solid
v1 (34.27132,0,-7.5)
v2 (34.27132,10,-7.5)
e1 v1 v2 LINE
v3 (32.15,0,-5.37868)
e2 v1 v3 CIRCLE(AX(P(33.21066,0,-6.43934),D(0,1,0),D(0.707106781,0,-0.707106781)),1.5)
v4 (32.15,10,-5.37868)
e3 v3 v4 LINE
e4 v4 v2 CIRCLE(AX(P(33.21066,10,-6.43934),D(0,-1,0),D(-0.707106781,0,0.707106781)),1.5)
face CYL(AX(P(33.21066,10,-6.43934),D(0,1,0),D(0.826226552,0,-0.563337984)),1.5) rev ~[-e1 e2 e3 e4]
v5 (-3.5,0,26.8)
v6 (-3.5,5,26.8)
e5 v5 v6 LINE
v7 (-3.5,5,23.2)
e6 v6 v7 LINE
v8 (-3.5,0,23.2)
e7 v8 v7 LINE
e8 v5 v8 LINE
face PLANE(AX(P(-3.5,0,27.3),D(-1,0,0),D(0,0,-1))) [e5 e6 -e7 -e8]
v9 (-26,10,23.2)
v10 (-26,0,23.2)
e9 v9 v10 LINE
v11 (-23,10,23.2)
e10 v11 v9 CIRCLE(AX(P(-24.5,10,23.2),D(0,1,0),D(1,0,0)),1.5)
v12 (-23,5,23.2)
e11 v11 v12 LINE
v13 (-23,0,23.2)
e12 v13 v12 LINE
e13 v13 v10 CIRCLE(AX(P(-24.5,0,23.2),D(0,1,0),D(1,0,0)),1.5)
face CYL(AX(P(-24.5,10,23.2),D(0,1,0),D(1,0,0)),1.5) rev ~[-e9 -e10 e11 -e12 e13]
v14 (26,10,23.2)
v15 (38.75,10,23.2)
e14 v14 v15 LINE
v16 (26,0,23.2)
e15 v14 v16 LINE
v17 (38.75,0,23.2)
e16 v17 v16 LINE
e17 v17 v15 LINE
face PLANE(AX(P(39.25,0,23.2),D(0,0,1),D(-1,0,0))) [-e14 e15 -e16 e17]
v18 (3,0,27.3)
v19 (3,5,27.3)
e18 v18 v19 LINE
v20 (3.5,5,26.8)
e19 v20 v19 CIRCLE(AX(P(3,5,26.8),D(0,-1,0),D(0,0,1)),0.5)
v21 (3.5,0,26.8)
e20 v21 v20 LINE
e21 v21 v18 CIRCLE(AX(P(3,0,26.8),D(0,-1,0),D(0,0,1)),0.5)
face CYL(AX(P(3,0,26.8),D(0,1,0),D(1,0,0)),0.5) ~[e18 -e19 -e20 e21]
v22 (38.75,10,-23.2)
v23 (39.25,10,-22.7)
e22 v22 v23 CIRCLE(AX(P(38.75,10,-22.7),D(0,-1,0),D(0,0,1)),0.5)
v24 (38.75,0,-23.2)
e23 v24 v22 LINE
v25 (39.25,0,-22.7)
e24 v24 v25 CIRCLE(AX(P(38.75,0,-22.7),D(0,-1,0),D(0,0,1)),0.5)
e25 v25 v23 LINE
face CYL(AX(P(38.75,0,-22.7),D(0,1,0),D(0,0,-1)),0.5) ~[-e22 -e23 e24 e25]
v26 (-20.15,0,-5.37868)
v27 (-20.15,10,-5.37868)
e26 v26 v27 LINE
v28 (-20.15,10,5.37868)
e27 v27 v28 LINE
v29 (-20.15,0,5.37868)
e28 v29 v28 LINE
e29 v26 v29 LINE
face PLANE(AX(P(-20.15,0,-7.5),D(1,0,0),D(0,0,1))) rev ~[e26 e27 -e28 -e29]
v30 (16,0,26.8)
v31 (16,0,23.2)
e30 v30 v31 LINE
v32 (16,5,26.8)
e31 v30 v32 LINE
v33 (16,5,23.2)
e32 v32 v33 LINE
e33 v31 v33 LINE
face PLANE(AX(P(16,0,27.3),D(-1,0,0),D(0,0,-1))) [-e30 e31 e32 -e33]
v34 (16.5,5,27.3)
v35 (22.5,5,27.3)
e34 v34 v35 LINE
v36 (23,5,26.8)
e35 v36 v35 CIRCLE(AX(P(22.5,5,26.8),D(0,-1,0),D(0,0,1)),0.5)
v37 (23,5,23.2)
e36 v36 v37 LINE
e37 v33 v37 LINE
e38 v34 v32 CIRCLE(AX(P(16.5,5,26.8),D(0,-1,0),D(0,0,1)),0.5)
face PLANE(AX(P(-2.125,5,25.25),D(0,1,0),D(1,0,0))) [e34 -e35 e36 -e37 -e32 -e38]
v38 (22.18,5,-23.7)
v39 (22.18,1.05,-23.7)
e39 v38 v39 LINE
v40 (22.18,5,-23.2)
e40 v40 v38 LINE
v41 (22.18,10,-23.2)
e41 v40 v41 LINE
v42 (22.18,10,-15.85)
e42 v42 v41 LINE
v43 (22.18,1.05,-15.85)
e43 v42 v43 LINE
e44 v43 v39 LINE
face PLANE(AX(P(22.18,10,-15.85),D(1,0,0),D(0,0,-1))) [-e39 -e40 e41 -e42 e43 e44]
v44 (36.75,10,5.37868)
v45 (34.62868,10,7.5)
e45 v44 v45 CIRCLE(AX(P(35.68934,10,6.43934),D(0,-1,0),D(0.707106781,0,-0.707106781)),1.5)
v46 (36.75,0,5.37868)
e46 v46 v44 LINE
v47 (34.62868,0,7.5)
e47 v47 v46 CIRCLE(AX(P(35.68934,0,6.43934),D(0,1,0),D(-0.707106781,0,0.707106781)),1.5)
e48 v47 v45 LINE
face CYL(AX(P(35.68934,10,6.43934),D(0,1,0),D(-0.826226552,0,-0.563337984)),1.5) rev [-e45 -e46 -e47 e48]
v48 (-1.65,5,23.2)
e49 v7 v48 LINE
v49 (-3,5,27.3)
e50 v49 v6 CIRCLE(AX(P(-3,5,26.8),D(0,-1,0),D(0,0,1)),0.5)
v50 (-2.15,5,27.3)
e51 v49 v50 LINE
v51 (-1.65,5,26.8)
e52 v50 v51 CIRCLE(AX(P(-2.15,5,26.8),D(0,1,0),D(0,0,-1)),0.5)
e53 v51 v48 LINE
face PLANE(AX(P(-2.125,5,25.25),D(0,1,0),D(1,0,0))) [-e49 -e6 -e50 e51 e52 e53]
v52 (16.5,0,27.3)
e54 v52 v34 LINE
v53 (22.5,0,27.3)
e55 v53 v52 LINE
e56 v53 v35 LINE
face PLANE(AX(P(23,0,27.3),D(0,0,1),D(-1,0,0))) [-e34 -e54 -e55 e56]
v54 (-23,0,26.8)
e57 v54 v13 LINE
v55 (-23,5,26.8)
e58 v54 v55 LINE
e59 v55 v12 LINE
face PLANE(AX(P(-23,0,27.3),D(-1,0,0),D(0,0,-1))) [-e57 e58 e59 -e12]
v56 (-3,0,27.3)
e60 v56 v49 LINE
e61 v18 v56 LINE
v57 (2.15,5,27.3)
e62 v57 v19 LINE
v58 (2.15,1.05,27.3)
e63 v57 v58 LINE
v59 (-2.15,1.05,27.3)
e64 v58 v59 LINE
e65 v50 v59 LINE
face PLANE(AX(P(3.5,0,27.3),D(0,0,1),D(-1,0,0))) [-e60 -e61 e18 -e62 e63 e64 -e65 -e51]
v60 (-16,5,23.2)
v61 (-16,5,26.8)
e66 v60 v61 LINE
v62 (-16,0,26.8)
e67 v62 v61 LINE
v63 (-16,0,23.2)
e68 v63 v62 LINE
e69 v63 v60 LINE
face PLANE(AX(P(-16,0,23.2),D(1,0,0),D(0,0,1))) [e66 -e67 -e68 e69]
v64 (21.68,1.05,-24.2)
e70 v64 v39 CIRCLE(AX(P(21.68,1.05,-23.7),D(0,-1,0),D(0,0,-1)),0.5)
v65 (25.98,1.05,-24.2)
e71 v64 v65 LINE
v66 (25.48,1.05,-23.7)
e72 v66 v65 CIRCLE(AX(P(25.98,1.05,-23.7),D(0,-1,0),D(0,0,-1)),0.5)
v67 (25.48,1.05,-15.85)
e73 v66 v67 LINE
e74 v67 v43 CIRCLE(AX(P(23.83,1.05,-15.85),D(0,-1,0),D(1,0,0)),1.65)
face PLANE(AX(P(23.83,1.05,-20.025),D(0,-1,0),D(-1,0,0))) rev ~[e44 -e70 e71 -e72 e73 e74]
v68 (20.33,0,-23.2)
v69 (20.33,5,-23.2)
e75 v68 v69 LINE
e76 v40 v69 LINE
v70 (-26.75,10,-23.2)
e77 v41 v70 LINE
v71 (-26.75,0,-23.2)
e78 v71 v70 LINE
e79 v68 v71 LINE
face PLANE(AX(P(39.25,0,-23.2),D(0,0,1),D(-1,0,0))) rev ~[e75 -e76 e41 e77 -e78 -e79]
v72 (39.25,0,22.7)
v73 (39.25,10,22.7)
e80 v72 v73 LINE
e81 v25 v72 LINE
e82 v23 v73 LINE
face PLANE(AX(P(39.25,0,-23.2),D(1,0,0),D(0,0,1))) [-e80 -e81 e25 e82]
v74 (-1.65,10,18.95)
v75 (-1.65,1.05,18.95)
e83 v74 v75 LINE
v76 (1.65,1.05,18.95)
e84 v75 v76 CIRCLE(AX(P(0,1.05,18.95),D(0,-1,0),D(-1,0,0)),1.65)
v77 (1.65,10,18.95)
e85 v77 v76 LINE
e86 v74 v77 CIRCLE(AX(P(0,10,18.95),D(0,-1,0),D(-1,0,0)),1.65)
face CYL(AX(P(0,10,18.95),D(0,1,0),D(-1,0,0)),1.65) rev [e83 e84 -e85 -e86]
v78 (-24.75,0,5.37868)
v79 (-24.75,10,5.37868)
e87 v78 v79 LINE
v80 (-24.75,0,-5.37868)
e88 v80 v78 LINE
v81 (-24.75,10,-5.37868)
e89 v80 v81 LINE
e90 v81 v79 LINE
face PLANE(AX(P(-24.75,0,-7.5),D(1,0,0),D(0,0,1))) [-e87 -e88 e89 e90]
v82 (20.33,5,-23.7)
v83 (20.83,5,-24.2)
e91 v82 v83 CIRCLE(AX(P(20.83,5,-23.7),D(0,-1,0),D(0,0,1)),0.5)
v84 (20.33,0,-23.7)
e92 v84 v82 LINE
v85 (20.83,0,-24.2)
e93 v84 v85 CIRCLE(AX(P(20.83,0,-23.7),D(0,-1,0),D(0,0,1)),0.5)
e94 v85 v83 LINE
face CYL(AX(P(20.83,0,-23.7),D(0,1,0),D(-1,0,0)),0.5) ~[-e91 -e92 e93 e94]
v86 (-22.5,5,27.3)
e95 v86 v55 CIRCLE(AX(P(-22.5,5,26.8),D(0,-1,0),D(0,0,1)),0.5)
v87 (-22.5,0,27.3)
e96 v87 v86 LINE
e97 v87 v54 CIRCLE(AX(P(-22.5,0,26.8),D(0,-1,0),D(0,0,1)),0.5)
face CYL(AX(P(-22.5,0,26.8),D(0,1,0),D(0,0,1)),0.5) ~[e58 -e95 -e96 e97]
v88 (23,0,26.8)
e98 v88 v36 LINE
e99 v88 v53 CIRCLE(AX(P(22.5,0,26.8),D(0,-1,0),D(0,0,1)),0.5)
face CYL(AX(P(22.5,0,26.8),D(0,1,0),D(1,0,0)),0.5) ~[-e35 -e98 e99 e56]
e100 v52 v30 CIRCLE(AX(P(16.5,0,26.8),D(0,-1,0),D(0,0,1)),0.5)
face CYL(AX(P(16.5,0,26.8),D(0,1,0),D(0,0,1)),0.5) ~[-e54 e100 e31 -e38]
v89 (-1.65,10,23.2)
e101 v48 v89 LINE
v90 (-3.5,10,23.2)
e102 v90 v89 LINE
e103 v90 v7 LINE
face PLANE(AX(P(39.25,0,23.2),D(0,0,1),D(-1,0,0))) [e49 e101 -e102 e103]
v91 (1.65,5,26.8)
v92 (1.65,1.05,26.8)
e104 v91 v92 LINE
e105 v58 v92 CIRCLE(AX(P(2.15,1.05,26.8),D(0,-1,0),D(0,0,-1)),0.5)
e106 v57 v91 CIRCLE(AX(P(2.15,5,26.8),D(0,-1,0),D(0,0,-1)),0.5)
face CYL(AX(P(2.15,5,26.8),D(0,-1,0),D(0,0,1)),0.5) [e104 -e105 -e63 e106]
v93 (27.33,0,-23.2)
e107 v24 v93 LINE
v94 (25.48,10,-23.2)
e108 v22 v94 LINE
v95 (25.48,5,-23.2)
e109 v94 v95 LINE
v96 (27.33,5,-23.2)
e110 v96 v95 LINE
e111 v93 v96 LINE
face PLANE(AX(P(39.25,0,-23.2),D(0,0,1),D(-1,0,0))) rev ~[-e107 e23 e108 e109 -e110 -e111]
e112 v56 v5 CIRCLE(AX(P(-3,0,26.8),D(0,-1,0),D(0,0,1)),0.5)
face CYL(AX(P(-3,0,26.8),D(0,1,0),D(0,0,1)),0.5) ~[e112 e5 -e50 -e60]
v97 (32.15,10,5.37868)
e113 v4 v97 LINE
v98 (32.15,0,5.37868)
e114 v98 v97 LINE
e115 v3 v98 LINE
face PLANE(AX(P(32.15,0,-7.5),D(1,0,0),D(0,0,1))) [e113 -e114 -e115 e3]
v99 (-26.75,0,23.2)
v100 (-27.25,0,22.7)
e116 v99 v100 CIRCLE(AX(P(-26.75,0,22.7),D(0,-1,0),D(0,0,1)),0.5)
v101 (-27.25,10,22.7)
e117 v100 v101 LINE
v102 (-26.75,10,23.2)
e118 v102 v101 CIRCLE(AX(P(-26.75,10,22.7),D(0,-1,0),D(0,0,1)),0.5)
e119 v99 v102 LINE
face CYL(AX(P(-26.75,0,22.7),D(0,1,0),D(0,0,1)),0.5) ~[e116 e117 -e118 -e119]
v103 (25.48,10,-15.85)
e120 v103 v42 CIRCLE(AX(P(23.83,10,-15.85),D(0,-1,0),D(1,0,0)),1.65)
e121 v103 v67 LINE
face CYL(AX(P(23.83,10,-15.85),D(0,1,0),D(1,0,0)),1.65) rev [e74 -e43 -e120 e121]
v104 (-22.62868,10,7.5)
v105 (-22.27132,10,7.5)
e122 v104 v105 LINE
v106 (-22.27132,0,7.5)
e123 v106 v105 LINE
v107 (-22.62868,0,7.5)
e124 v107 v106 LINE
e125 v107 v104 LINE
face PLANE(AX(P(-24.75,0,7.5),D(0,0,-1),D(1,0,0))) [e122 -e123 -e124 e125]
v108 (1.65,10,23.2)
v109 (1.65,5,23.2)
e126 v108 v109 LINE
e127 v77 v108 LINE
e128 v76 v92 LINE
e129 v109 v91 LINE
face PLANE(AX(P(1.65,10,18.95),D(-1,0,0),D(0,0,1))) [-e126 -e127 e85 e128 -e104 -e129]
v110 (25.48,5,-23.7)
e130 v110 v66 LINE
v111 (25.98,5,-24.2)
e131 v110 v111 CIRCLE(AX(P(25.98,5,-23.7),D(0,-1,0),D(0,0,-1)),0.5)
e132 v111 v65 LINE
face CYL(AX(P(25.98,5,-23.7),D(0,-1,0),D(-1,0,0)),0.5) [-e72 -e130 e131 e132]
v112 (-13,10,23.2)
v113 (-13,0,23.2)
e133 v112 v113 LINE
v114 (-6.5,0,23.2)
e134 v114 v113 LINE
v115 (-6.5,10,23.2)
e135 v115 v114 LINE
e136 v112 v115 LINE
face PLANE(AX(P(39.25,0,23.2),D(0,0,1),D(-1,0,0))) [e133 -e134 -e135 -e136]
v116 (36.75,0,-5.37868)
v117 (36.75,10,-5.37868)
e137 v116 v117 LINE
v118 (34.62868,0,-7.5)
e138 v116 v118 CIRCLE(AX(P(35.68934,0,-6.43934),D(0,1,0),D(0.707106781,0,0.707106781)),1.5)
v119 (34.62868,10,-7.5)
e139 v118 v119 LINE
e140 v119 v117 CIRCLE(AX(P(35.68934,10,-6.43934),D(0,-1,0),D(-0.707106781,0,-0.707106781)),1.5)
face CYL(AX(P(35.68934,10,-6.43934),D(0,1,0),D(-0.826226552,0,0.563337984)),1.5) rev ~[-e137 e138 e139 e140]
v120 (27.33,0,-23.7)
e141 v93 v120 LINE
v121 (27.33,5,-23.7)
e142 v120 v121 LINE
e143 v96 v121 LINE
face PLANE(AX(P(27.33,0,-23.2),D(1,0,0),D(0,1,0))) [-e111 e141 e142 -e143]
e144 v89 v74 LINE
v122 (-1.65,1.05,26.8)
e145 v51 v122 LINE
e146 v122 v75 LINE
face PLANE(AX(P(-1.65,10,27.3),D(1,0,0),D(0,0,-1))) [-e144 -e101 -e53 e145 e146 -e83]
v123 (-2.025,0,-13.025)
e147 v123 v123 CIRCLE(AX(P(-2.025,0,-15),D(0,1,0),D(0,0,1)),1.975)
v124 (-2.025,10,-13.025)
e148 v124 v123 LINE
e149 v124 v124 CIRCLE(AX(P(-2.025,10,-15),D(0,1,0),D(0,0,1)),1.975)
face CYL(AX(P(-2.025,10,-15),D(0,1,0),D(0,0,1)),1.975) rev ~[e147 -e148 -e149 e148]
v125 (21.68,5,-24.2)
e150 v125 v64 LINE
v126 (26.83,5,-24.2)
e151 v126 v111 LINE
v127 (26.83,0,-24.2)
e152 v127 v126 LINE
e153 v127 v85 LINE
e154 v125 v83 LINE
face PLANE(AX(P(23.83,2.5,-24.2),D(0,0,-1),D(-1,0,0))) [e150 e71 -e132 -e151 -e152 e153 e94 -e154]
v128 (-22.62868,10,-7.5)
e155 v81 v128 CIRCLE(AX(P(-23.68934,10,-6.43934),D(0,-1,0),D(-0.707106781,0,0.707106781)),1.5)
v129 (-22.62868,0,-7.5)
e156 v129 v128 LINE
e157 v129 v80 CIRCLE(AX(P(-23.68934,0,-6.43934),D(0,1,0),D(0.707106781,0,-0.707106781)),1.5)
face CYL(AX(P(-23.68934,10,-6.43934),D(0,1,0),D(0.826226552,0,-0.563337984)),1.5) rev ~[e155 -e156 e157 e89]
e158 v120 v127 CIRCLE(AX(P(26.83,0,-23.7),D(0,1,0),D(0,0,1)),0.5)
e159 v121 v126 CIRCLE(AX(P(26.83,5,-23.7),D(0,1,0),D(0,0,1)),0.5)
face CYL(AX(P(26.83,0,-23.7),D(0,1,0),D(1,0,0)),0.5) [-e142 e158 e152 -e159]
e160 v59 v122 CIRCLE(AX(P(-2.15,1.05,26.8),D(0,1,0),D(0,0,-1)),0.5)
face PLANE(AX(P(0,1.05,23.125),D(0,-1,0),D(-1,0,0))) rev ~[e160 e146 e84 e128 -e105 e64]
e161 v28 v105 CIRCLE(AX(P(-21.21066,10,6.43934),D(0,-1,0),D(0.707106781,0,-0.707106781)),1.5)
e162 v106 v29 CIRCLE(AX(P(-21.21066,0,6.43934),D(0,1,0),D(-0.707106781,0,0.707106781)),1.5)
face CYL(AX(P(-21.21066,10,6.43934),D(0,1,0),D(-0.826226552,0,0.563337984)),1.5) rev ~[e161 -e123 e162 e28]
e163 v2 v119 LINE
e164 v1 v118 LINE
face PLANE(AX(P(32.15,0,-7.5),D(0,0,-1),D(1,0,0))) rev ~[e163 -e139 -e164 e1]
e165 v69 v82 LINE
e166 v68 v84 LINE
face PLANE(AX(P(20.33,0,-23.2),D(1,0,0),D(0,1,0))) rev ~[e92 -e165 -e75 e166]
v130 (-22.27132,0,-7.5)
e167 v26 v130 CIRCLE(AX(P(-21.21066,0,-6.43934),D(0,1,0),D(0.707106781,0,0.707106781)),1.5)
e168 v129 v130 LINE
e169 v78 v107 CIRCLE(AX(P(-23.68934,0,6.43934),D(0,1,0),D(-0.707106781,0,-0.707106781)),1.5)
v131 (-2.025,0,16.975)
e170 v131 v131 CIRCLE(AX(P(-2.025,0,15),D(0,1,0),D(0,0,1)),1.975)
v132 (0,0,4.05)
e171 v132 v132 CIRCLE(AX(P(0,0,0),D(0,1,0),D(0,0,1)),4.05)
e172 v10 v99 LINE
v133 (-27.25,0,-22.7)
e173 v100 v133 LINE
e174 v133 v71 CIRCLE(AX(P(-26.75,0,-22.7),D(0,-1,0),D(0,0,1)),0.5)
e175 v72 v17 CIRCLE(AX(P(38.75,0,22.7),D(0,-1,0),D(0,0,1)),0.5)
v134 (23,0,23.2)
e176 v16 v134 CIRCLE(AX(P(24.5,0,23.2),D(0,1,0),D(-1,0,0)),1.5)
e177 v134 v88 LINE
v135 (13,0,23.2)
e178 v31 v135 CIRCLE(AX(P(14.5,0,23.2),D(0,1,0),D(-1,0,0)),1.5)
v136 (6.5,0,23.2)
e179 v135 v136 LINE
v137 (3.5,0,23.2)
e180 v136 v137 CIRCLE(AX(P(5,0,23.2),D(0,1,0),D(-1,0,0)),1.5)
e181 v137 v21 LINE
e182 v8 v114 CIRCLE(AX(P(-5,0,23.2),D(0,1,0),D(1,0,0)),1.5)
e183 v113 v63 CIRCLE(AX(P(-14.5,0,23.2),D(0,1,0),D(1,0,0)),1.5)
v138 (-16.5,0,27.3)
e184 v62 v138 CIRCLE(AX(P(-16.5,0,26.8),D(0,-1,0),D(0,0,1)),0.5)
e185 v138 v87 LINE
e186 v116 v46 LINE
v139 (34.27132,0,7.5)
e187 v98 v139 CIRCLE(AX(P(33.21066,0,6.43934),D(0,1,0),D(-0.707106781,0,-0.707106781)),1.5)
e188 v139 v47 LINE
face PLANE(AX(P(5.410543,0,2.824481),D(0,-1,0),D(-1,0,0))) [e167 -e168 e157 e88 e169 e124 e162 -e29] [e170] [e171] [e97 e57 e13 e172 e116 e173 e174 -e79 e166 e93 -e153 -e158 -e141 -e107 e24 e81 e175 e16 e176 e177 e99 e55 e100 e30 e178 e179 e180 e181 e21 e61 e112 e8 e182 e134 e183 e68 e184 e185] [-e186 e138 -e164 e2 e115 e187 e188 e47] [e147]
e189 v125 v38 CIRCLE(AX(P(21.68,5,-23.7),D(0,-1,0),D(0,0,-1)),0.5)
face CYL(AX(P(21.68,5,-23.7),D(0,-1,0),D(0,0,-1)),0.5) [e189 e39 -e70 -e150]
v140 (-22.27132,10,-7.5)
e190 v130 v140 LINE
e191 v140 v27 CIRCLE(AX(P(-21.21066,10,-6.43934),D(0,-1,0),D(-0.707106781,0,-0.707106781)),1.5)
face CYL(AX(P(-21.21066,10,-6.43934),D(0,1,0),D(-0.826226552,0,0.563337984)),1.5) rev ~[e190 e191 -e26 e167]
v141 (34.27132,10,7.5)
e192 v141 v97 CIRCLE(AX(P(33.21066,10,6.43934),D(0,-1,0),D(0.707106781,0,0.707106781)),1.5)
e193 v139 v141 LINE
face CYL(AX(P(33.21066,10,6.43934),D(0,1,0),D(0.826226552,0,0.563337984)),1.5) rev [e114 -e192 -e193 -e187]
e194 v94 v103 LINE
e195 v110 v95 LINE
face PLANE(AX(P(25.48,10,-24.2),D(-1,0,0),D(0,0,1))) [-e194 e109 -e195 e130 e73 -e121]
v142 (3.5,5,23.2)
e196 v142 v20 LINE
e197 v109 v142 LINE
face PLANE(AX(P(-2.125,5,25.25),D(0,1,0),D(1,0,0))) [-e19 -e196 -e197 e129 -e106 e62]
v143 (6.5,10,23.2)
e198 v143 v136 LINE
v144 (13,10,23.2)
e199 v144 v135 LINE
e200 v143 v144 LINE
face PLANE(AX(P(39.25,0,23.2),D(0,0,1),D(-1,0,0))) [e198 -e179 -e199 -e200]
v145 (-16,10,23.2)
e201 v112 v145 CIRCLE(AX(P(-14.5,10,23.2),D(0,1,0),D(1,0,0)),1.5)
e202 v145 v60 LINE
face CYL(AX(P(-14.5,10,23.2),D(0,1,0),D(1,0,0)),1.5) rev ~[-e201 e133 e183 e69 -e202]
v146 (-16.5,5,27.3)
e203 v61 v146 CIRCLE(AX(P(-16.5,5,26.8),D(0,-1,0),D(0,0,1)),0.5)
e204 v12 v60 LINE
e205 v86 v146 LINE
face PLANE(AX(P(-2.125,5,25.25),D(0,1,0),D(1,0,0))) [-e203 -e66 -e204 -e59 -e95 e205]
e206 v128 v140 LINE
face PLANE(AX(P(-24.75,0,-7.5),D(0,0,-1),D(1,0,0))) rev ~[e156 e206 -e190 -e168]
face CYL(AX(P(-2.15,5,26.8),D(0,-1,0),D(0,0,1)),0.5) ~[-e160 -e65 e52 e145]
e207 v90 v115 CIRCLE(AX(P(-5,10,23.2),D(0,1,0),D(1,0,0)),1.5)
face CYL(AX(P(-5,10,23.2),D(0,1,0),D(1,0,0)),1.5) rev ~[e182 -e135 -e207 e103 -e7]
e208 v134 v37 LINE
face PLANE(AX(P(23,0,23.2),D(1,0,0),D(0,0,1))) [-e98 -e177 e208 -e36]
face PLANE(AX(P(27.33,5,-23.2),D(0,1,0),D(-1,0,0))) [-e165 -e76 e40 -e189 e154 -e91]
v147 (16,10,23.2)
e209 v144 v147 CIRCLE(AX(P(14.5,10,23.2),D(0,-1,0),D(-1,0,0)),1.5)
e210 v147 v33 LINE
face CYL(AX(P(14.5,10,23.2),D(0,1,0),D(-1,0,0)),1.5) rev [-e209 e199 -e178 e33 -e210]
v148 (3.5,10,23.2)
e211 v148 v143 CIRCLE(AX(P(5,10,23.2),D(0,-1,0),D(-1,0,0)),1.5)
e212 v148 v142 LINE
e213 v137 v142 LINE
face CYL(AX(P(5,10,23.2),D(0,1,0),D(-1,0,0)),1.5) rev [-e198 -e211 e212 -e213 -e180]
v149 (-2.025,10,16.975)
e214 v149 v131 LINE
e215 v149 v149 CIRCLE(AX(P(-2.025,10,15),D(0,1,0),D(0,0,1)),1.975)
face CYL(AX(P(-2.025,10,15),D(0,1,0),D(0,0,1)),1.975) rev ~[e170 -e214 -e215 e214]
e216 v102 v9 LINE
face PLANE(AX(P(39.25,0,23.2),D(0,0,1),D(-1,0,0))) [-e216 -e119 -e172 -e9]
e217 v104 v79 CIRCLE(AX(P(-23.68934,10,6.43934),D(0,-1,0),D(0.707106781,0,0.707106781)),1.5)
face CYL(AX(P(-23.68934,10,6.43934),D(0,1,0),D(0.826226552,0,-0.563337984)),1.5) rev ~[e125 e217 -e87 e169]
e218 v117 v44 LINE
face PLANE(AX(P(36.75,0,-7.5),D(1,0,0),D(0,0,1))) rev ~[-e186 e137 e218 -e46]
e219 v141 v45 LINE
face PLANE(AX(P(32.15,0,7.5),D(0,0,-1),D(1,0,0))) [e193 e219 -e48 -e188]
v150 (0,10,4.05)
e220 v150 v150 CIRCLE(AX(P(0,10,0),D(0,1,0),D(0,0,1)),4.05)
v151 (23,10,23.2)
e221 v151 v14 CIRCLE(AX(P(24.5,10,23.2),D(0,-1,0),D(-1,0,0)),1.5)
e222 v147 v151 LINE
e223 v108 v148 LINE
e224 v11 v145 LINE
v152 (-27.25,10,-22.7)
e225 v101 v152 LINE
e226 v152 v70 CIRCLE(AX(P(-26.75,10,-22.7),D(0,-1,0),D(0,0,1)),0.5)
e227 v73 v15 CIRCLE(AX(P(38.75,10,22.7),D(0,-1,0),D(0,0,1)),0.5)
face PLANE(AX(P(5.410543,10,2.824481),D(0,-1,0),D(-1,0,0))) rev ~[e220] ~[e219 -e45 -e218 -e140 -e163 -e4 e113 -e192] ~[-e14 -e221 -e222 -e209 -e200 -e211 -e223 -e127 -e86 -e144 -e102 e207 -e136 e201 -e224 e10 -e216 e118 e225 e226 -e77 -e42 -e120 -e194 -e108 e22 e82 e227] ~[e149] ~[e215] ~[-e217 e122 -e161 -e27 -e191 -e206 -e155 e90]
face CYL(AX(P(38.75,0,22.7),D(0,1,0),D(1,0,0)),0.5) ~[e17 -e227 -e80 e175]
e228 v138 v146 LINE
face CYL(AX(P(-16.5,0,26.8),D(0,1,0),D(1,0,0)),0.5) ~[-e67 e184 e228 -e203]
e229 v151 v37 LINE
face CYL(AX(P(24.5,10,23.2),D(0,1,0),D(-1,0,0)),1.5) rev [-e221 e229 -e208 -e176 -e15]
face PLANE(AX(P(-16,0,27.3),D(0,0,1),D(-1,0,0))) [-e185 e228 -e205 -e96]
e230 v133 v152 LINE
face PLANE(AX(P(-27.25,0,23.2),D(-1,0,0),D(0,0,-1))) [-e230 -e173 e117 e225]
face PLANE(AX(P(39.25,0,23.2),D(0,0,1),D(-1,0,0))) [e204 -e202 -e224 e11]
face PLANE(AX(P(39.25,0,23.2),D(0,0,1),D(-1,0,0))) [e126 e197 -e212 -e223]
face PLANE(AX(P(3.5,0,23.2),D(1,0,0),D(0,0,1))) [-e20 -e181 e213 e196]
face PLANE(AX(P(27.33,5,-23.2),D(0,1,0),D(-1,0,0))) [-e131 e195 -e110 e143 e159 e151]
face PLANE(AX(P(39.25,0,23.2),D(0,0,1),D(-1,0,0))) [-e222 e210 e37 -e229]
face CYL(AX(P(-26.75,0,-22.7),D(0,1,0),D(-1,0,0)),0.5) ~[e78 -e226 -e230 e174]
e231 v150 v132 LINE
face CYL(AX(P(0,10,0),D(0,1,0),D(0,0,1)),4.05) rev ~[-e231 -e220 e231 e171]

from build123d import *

# Parameters (mm, degrees)
BOSS_EXTRUDE1_DEPTH = 10
SKETCH2_R           = 4.05
SKETCH2_R_2         = 1.975
CUT_EXTRUDE1_DEPTH  = 49.845189118
SKETCH14_W          = 50.25
SKETCH14_H          = 4.1
CUT_EXTRUDE13_DEPTH = 5
SKETCH16_W          = 4.6
SKETCH16_H          = 15
CUT_EXTRUDE15_DEPTH = 10
CUT_EXTRUDE14_DEPTH = 49.845189118
SKETCH19_W          = 7
SKETCH19_H          = 5
BOSS_EXTRUDE2_DEPTH = 1
CUT_EXTRUDE16_DEPTH = 8.95
FILLET1_R           = 0.5


with BuildPart() as part:
    # Sketch1 → Boss-Extrude1 (new body)
    with BuildSketch(Plane(origin=(0, 0, 0), x_dir=(1, 0, 0), z_dir=(0, 1, 0))):
        Polygon((-23, 23.2), (23, 23.2), (39.25, 23.2), (39.25, -23.2), (23, -23.2), (23, -27.3), (16, -27.3), (16, -23.2), (3.5, -23.2), (3.5, -27.3), (-3.5, -27.3), (-3.5, -23.2), (-16, -23.2), (-16, -27.3), (-23, -27.3), (-23, -23.2), (-27.25, -23.2), (-27.25, 23.2), align=None)
    extrude(amount=BOSS_EXTRUDE1_DEPTH)

    # Sketch2 → Cut-Extrude1 (cut, through all)
    with BuildSketch(Plane(origin=(0, 10, 0), x_dir=(1, 0, 0), z_dir=(0, 1, 0))):
        with Locations(Location((0, 0, 0), (0, 0, 270))):
            Circle(SKETCH2_R)
        with Locations(Location((-2.025, 15, 0), (0, 0, 270))):
            Circle(SKETCH2_R_2)
        with Locations(Location((-2.025, -15, 0), (0, 0, 270))):
            Circle(SKETCH2_R_2)
    extrude(amount=-CUT_EXTRUDE1_DEPTH, mode=Mode.SUBTRACT)

    # Sketch14 → Cut-Extrude13 (cut)
    with BuildSketch(Plane(origin=(0, 10, 0), x_dir=(1, 0, 0), z_dir=(0, 1, 0))):
        with Locations((-2.125, -25.25)):
            Rectangle(SKETCH14_W, SKETCH14_H)
    extrude(amount=-CUT_EXTRUDE13_DEPTH, mode=Mode.SUBTRACT)

    # Sketch16 → Cut-Extrude15 (cut)
    with BuildSketch(Plane.XZ):
        with Locations((34.45, 0)):
            Rectangle(SKETCH16_W, SKETCH16_H)
        with Locations((-22.45, 0)):
            Rectangle(SKETCH16_W, SKETCH16_H)
    extrude(amount=-CUT_EXTRUDE15_DEPTH, mode=Mode.SUBTRACT)

    # Sketch15 → Cut-Extrude14 (cut, through all)
    with BuildSketch(Plane(origin=(0, 10, 0), x_dir=(1, 0, 0), z_dir=(0, 1, 0))):
        with BuildLine():
            Line((13, -27.3), (13, -23.2))
            ThreePointArc((13, -23.2), (14.5, -21.7), (16, -23.2))
            Line((16, -23.2), (16, -27.3))
            ThreePointArc((16, -27.3), (14.5, -28.8), (13, -27.3))
        make_face()
        with BuildLine():
            Line((3.5, -27.3), (3.5, -23.2))
            ThreePointArc((3.5, -23.2), (5, -21.7), (6.5, -23.2))
            Line((6.5, -23.2), (6.5, -27.3))
            ThreePointArc((6.5, -27.3), (5, -28.8), (3.5, -27.3))
        make_face()
        with BuildLine():
            Line((-13, -27.3), (-13, -23.2))
            ThreePointArc((-13, -23.2), (-14.5, -21.7), (-16, -23.2))
            Line((-16, -23.2), (-16, -27.3))
            ThreePointArc((-16, -27.3), (-14.5, -28.8), (-13, -27.3))
        make_face()
        with BuildLine():
            Line((-3.5, -27.3), (-3.5, -23.2))
            ThreePointArc((-3.5, -23.2), (-5, -21.7), (-6.5, -23.2))
            Line((-6.5, -23.2), (-6.5, -27.3))
            ThreePointArc((-6.5, -27.3), (-5, -28.8), (-3.5, -27.3))
        make_face()
        with BuildLine():
            Line((23, -27.3), (23, -23.2))
            ThreePointArc((23, -23.2), (24.5, -21.7), (26, -23.2))
            Line((26, -23.2), (26, -27.3))
            ThreePointArc((26, -27.3), (24.5, -28.8), (23, -27.3))
        make_face()
        with BuildLine():
            Line((-23, -27.3), (-23, -23.2))
            ThreePointArc((-23, -23.2), (-24.5, -21.7), (-26, -23.2))
            Line((-26, -23.2), (-26, -27.3))
            ThreePointArc((-26, -27.3), (-24.5, -28.8), (-23, -27.3))
        make_face()
        with BuildLine():
            ThreePointArc((34.45, 7.284346805), (31.710660172, 6.439339828), (34.45, 5.594332852))
            ThreePointArc((34.45, 5.594332852), (37.189339828, 6.439339828), (34.45, 7.284346805))
        make_face()
        with BuildLine():
            ThreePointArc((34.45, -7.284346805), (31.710660172, -6.439339828), (34.45, -5.594332852))
            ThreePointArc((34.45, -5.594332852), (37.189339828, -6.439339828), (34.45, -7.284346805))
        make_face()
        with BuildLine():
            ThreePointArc((-22.45, -7.284346805), (-19.710660172, -6.439339828), (-22.45, -5.594332852))
            ThreePointArc((-22.45, -5.594332852), (-25.189339828, -6.439339828), (-22.45, -7.284346805))
        make_face()
        with BuildLine():
            ThreePointArc((-22.45, 7.284346805), (-25.189339828, 6.439339828), (-22.45, 5.594332852))
            ThreePointArc((-22.45, 5.594332852), (-19.710660172, 6.439339828), (-22.45, 7.284346805))
        make_face()
    extrude(amount=-CUT_EXTRUDE14_DEPTH, mode=Mode.SUBTRACT)

    # Sketch19 → Boss-Extrude2 (add)
    with BuildSketch(Plane(origin=(0, 0, -23.2), x_dir=(-1, 0, 0), z_dir=(0, 0, -1))):
        with Locations((-23.83, 2.5)):
            Rectangle(SKETCH19_W, SKETCH19_H)
    extrude(amount=BOSS_EXTRUDE2_DEPTH)

    # Sketch17 → Cut-Extrude16 (cut)
    with BuildSketch(Plane(origin=(0, 10, 0), x_dir=(1, 0, 0), z_dir=(0, 1, 0))):
        with BuildLine():
            Line((25.48, 24.2), (25.48, 15.85))
            ThreePointArc((25.48, 15.85), (23.83, 14.2), (22.18, 15.85))
            Line((22.18, 15.85), (22.18, 24.2))
            ThreePointArc((22.18, 24.2), (23.83, 25.85), (25.48, 24.2))
        make_face()
        with BuildLine():
            Line((1.65, -18.95), (1.65, -27.3))
            ThreePointArc((1.65, -27.3), (0, -28.95), (-1.65, -27.3))
            Line((-1.65, -27.3), (-1.65, -18.95))
            ThreePointArc((-1.65, -18.95), (0, -17.3), (1.65, -18.95))
        make_face()
    extrude(amount=-CUT_EXTRUDE16_DEPTH, mode=Mode.SUBTRACT)

    # Fillet1
    fillet1_edges = [part.edges().sort_by_distance(p)[0] for p in [
        (-27.25, 5, 23.2),
        (-27.25, 5, -23.2),
        (39.25, 5, -23.2),
        (39.25, 5, 23.2),
        (20.33, 2.5, -24.2),
        (27.33, 2.5, -24.2),
        (25.48, 3.025, -24.2),
        (22.18, 3.025, -24.2),
        (-1.65, 3.025, 27.3),
        (1.65, 3.025, 27.3),
        (-16, 2.5, 27.3),
        (-23, 2.5, 27.3),
        (23, 2.5, 27.3),
        (16, 2.5, 27.3),
        (3.5, 2.5, 27.3),
        (-3.5, 2.5, 27.3),
    ]]
    fillet(fillet1_edges, radius=FILLET1_R)


solid = part.part
